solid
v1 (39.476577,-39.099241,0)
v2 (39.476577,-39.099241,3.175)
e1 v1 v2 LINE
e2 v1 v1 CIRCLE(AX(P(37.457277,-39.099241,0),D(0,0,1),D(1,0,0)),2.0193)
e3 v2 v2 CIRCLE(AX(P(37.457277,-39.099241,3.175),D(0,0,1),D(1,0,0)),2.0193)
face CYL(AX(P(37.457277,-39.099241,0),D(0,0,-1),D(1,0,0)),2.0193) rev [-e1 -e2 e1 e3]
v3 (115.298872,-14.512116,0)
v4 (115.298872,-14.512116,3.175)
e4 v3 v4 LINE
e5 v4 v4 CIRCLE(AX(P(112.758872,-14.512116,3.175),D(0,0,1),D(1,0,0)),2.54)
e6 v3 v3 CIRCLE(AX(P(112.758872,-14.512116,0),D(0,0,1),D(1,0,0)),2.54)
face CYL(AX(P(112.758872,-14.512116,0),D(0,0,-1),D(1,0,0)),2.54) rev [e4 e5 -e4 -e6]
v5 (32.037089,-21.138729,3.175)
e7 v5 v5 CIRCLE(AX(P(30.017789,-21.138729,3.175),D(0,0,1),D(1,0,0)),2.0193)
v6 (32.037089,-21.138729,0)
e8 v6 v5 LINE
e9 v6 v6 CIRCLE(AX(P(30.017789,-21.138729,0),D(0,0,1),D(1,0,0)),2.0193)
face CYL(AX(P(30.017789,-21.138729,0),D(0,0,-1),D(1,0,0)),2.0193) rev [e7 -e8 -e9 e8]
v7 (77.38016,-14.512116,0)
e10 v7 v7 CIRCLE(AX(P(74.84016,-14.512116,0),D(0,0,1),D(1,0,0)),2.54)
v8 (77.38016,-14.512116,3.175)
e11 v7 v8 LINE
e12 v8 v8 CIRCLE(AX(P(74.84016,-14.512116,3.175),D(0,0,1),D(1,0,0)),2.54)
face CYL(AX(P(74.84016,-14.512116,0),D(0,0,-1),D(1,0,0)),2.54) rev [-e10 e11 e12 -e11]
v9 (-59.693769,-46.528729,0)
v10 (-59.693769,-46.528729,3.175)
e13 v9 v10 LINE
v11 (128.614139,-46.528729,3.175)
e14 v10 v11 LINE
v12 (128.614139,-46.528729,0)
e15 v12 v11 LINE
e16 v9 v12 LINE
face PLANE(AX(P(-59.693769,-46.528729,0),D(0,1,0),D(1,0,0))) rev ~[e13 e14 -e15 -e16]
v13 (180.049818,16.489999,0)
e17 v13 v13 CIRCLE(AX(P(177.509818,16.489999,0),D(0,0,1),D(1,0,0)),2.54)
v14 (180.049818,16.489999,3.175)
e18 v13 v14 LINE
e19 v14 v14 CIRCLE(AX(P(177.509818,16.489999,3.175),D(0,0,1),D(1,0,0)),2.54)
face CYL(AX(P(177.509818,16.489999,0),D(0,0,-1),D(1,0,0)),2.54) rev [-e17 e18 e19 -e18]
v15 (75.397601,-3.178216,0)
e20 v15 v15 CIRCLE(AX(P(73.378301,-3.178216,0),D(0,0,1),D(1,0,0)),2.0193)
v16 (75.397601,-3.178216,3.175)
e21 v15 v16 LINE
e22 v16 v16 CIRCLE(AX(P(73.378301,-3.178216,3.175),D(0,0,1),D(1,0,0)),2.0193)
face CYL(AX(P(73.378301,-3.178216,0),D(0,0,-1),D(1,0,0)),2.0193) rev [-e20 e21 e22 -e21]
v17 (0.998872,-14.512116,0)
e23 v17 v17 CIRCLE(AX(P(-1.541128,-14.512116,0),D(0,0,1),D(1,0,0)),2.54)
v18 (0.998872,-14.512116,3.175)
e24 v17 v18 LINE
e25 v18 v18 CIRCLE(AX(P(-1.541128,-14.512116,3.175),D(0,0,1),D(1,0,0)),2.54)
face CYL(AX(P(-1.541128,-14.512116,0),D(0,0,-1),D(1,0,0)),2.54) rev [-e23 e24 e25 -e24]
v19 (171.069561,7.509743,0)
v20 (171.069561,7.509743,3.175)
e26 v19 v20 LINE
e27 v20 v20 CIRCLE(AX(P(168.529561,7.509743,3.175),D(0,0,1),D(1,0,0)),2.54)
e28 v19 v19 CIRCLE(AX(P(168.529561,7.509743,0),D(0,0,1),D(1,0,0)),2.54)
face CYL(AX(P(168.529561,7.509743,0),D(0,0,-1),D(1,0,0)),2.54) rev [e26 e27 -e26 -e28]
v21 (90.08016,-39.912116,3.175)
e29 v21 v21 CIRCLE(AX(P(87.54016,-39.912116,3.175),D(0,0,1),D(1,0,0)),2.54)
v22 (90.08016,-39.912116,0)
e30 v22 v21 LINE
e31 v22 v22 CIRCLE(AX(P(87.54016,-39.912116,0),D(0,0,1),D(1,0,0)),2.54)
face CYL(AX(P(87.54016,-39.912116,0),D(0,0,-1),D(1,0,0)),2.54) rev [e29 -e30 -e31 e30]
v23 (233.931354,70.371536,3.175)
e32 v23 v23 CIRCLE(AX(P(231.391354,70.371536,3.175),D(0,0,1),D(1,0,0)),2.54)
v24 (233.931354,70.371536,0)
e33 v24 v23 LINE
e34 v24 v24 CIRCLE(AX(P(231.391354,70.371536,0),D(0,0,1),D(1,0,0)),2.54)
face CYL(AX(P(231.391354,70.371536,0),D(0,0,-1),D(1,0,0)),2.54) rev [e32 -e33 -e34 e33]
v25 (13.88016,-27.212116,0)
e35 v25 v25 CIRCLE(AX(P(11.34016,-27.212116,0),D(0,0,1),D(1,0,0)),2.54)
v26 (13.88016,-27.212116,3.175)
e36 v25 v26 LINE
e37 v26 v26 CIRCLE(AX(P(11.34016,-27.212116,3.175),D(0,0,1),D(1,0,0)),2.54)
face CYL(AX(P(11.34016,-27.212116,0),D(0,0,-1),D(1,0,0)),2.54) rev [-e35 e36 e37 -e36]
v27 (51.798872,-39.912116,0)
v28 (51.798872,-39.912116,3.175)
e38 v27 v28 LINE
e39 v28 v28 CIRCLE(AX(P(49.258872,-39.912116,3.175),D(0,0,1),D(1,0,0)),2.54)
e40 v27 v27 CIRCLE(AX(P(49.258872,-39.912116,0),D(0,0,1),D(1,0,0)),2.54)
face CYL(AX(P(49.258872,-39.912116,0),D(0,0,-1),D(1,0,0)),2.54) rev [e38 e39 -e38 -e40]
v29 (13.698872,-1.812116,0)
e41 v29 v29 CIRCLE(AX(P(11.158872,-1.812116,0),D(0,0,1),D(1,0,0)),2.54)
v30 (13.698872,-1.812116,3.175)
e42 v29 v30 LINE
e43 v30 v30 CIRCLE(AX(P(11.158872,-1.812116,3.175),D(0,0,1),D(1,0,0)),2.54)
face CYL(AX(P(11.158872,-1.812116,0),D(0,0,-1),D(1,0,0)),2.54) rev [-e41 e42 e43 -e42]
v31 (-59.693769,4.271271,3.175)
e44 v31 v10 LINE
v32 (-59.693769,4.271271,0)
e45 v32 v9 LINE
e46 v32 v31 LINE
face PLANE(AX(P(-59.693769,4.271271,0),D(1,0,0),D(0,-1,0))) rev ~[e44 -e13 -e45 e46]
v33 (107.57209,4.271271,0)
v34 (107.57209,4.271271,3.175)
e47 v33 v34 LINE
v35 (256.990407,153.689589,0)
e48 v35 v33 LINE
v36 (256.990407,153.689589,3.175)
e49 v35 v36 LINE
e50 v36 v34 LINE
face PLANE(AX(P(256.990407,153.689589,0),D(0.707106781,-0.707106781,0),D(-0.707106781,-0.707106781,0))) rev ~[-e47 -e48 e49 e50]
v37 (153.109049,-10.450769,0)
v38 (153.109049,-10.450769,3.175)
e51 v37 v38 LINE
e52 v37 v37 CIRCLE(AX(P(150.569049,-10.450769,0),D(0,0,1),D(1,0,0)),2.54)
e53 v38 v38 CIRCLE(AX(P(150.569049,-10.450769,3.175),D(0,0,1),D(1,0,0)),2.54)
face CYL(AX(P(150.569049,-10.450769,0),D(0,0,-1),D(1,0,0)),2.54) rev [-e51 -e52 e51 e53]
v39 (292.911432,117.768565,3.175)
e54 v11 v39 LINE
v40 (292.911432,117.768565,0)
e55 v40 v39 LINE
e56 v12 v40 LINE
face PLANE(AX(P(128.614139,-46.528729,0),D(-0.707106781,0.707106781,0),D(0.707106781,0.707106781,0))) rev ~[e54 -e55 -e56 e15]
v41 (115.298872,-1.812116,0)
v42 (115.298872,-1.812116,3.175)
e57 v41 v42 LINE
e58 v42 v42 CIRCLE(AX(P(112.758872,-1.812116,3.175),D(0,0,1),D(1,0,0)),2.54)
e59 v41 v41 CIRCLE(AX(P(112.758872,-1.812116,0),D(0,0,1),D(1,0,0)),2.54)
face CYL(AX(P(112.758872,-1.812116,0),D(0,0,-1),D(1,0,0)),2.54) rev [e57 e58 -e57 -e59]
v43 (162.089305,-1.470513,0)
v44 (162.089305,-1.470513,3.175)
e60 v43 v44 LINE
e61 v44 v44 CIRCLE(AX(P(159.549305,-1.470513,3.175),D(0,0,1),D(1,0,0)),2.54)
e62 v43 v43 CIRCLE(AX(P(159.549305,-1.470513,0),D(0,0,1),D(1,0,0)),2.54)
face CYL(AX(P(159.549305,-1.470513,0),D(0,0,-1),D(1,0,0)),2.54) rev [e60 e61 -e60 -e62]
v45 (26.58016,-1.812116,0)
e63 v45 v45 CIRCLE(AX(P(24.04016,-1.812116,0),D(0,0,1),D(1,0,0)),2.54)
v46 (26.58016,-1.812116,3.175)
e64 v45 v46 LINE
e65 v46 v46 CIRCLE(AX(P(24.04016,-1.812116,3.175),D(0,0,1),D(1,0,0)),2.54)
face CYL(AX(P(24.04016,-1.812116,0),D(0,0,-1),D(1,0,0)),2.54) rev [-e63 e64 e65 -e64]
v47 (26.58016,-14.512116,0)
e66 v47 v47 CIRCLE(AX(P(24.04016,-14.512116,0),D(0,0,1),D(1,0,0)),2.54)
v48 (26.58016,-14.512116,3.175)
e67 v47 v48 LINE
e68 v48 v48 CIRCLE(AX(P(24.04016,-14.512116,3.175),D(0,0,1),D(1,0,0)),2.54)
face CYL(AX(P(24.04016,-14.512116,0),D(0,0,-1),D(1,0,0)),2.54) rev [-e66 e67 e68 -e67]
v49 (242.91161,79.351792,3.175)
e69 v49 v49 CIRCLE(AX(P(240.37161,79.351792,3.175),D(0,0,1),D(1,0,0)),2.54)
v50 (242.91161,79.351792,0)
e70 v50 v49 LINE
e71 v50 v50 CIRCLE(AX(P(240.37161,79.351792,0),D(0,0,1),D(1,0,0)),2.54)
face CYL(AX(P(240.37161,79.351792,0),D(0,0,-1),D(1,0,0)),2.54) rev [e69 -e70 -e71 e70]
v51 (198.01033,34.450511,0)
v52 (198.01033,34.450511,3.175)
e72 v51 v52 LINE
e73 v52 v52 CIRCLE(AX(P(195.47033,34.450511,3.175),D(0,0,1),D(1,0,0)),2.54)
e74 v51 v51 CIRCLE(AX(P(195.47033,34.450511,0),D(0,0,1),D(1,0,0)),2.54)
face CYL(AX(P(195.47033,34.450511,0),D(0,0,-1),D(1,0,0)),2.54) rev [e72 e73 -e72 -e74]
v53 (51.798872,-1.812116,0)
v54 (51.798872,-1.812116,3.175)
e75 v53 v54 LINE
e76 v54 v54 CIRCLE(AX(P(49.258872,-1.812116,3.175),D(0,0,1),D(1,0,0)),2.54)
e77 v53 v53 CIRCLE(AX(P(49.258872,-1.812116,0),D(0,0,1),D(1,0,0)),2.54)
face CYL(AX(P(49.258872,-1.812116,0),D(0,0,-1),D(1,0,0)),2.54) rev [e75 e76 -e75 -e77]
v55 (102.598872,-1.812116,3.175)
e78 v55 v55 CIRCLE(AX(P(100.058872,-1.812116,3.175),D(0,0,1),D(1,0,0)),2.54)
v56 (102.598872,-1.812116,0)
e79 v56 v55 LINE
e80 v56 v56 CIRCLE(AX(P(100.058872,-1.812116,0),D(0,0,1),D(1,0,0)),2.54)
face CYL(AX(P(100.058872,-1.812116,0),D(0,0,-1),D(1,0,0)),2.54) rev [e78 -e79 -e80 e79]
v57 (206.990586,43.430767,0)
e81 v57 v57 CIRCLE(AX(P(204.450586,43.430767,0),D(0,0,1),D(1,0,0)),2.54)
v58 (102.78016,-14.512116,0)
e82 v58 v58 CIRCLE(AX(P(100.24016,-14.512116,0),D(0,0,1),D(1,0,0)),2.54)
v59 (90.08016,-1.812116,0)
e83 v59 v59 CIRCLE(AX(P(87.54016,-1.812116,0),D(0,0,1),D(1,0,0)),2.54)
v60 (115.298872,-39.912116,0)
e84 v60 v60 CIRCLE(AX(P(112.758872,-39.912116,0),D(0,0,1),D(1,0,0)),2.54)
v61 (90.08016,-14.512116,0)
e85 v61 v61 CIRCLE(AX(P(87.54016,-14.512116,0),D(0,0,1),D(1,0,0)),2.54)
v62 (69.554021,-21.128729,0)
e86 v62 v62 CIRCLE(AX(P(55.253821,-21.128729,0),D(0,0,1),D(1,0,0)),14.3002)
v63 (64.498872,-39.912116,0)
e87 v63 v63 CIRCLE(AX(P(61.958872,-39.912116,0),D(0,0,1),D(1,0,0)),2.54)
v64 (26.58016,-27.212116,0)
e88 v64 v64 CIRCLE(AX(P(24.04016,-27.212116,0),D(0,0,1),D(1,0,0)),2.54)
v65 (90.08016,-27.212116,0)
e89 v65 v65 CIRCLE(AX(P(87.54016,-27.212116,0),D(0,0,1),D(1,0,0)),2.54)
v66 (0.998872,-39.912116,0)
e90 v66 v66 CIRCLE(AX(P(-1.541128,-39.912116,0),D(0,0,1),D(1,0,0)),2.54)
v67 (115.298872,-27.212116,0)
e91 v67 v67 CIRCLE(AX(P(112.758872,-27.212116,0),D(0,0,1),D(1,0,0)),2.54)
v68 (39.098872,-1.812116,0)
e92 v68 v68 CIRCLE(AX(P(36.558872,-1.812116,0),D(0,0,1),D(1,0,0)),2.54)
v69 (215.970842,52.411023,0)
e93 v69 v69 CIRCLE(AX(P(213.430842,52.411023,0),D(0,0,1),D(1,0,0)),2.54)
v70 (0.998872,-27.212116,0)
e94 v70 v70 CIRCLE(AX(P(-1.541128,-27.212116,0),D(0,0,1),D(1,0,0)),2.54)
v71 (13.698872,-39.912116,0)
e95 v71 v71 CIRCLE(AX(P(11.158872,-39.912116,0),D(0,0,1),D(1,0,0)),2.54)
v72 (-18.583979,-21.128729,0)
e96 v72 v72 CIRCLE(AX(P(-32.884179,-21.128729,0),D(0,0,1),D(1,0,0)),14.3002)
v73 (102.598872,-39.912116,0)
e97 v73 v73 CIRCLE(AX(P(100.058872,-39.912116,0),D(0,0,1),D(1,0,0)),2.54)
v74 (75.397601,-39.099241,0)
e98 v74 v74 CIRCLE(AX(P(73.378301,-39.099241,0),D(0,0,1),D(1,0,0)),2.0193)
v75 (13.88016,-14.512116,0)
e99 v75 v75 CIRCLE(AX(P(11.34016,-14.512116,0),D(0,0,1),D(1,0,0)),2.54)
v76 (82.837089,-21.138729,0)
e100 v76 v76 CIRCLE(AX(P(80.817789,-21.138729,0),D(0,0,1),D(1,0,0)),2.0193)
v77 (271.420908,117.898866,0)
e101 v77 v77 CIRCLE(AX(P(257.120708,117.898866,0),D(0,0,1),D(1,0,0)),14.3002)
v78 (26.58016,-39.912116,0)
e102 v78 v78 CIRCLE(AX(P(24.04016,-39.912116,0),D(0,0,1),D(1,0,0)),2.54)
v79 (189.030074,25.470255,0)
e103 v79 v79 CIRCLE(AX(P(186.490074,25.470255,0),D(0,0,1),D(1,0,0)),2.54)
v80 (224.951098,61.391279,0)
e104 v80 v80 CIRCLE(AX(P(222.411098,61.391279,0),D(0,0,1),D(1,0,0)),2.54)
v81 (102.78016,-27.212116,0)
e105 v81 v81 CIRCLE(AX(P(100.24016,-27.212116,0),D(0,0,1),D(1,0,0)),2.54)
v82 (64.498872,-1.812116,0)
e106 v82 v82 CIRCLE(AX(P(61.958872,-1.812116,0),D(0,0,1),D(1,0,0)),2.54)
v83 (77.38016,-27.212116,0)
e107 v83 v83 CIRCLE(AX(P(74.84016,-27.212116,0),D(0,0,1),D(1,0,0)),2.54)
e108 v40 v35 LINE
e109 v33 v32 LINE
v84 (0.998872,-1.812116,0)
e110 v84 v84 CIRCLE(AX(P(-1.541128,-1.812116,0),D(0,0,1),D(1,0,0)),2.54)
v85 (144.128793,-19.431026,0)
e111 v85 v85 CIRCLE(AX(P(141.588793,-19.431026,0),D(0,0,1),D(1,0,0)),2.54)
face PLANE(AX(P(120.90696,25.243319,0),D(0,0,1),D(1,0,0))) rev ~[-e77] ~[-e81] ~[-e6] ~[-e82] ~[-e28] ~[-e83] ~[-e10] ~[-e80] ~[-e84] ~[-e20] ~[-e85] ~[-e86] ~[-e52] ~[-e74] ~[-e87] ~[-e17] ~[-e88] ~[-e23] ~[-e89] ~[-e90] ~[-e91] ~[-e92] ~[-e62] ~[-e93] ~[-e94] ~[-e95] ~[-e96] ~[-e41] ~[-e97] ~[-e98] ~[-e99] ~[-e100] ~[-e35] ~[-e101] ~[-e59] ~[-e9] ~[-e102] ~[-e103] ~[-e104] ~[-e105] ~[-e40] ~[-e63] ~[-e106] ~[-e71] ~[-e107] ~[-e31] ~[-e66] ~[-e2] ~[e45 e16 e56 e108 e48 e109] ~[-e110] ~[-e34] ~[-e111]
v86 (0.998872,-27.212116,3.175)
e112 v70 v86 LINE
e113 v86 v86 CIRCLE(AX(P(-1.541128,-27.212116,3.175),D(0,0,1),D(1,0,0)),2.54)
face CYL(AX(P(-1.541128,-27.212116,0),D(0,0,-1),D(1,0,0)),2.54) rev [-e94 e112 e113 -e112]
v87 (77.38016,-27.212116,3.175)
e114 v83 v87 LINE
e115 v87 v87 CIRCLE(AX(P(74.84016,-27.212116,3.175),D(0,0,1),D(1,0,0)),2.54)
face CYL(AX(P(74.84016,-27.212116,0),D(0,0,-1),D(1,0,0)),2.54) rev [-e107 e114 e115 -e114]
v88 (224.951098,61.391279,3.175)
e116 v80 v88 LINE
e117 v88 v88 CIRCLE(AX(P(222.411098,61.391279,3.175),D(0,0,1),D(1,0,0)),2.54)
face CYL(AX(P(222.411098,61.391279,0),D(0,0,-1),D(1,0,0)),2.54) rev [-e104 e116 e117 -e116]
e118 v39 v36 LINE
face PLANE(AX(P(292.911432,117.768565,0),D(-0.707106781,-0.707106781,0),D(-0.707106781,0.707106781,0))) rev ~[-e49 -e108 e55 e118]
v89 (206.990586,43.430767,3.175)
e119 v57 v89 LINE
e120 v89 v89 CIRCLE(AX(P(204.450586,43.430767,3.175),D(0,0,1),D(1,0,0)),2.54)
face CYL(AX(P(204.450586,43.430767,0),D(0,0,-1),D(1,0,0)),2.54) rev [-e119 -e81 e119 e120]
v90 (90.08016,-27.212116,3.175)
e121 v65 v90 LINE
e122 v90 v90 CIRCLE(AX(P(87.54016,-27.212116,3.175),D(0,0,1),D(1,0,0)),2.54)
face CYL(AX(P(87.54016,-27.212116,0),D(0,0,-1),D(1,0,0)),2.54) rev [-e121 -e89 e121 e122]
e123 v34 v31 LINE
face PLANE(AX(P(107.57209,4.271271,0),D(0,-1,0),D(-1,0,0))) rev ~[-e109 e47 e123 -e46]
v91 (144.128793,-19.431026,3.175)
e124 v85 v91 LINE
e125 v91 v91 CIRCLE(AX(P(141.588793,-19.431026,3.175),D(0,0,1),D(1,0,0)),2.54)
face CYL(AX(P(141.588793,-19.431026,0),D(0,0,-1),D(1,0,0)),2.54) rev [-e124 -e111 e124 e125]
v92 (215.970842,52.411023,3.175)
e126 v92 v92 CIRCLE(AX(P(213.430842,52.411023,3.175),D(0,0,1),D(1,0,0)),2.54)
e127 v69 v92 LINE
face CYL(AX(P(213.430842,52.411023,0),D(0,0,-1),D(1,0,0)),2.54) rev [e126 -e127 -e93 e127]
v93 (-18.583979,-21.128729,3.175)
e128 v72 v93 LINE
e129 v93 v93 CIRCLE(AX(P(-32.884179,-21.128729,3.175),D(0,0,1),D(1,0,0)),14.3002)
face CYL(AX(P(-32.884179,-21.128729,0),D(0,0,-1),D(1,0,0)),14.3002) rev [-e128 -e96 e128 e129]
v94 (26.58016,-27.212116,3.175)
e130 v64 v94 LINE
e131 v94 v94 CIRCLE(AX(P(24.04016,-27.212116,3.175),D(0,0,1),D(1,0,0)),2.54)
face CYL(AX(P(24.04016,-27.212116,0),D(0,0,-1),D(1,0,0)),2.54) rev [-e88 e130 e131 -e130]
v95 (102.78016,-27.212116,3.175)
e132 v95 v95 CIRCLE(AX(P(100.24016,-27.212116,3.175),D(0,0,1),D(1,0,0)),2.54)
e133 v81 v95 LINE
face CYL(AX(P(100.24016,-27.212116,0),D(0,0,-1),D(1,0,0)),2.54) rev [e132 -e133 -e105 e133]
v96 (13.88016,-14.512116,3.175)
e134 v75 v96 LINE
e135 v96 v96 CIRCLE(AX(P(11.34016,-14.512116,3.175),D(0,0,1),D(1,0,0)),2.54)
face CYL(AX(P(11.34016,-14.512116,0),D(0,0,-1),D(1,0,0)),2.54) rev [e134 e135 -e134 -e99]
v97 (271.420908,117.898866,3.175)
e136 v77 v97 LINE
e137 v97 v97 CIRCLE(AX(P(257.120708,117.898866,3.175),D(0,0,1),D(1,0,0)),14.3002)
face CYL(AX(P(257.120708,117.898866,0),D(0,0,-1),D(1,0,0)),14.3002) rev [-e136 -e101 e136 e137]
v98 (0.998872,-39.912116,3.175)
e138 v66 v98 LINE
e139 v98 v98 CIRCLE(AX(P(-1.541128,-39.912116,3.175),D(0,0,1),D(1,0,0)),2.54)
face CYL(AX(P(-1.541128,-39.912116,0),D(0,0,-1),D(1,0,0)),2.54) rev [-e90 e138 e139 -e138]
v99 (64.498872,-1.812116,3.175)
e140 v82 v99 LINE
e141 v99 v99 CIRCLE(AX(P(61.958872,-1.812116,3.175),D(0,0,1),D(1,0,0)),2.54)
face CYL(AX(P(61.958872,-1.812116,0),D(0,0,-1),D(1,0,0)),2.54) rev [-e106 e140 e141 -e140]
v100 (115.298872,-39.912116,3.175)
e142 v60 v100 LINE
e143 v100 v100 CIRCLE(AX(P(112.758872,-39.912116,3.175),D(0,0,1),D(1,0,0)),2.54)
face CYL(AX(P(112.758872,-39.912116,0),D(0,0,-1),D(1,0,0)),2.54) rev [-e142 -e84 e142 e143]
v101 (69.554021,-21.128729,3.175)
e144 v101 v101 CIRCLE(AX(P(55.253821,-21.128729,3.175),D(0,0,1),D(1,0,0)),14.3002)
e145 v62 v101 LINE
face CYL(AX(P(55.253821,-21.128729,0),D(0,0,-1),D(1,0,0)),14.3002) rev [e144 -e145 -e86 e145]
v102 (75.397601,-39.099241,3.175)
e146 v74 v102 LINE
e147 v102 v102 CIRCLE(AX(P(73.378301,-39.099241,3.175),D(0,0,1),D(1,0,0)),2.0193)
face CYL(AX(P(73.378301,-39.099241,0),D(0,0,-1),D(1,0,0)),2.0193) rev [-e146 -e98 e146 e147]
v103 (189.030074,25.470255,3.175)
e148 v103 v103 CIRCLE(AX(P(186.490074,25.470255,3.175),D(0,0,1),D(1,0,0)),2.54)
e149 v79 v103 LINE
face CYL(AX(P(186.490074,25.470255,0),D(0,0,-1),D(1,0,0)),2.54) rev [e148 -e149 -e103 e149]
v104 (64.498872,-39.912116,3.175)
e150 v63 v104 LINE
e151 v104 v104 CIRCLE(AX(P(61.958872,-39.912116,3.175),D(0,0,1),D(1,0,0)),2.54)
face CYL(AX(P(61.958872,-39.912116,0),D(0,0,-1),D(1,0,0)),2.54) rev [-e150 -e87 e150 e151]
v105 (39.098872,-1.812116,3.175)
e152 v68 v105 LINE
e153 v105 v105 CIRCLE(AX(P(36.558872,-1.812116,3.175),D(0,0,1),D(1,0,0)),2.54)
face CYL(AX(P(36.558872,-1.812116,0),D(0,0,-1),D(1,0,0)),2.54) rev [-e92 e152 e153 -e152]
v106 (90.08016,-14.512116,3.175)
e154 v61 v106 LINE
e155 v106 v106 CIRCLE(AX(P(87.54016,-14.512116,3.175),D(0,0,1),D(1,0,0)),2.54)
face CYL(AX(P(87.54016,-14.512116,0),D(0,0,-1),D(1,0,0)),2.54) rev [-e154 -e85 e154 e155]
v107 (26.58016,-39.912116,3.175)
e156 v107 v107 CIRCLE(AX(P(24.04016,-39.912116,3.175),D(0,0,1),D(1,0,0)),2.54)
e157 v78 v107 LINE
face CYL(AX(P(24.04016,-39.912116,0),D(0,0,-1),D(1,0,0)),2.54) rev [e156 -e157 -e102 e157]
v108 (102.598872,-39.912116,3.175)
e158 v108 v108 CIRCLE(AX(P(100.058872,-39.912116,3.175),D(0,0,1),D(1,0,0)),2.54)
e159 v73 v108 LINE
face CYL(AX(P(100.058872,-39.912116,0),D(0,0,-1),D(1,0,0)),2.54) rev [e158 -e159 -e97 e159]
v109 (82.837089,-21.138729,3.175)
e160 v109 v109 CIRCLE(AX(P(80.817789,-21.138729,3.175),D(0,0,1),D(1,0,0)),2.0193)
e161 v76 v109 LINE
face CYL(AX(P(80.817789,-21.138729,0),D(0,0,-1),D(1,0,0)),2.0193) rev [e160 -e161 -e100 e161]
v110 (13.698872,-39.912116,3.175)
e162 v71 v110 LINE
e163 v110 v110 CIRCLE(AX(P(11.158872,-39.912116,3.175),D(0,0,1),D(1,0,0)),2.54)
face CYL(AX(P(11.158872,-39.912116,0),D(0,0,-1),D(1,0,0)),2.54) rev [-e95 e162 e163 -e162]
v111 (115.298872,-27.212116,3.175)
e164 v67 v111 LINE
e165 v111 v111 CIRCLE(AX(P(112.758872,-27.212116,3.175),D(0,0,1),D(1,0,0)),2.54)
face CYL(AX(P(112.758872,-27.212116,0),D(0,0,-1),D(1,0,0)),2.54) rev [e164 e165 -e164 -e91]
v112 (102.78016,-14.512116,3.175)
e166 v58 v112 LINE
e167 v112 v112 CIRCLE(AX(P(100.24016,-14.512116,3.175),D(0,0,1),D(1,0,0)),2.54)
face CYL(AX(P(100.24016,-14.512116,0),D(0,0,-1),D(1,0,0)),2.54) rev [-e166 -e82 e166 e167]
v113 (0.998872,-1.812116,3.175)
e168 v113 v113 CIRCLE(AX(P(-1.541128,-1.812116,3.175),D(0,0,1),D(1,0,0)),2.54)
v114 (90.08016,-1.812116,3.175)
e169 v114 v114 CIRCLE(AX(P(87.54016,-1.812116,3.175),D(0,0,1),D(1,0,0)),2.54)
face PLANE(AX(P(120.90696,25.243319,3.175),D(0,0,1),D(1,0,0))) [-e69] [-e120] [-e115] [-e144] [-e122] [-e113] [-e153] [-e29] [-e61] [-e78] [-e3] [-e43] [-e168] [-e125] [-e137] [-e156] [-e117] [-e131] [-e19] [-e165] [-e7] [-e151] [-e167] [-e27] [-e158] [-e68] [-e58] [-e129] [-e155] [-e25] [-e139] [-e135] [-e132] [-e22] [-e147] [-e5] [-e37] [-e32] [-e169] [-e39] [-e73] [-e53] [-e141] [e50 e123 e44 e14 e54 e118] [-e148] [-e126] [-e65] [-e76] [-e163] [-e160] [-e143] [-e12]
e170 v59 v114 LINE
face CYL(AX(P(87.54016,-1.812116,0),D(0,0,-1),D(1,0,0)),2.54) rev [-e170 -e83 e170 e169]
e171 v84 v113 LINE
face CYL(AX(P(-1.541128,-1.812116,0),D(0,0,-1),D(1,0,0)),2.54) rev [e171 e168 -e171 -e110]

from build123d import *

# Parameters (mm, degrees)
SKETCH1_R           = 2.54
SKETCH1_R_2         = 2.0193
SKETCH1_R_3         = 14.3002
BOSS_EXTRUDE1_DEPTH = 3.175


with BuildPart() as part:
    # Sketch1 → Boss-Extrude1 (new body)
    with BuildSketch(Plane.XY):
        Polygon((-59.693768546, 4.271271353), (-59.693768546, -46.528728647), (128.614138554, -46.528728647), (292.911431822, 117.768564621), (256.990407338, 153.689589105), (107.572089586, 4.271271353), align=None)
        with Locations((24.040159799, -14.512116048)):
            Circle(SKETCH1_R, mode=Mode.SUBTRACT)
        with Locations((74.840159799, -14.512116048)):
            Circle(SKETCH1_R, mode=Mode.SUBTRACT)
        with Locations((87.540159799, -14.512116048)):
            Circle(SKETCH1_R, mode=Mode.SUBTRACT)
        with Locations((100.240159799, -14.512116048)):
            Circle(SKETCH1_R, mode=Mode.SUBTRACT)
        with Locations((100.240159799, -27.212116048)):
            Circle(SKETCH1_R, mode=Mode.SUBTRACT)
        with Locations((87.540159799, -27.212116048)):
            Circle(SKETCH1_R, mode=Mode.SUBTRACT)
        with Locations((74.840159799, -27.212116048)):
            Circle(SKETCH1_R, mode=Mode.SUBTRACT)
        with Locations((24.040159799, -27.212116048)):
            Circle(SKETCH1_R, mode=Mode.SUBTRACT)
        with Locations((11.340159799, -27.212116048)):
            Circle(SKETCH1_R, mode=Mode.SUBTRACT)
        with Locations((11.340159799, -14.512116048)):
            Circle(SKETCH1_R, mode=Mode.SUBTRACT)
        with Locations((11.158871814, -1.812116048)):
            Circle(SKETCH1_R, mode=Mode.SUBTRACT)
        with Locations((24.040159799, -1.812116048)):
            Circle(SKETCH1_R, mode=Mode.SUBTRACT)
        with Locations((36.558871814, -1.812116048)):
            Circle(SKETCH1_R, mode=Mode.SUBTRACT)
        with Locations((49.258871814, -1.812116048)):
            Circle(SKETCH1_R, mode=Mode.SUBTRACT)
        with Locations((61.958871814, -1.812116048)):
            Circle(SKETCH1_R, mode=Mode.SUBTRACT)
        with Locations((87.540159799, -1.812116048)):
            Circle(SKETCH1_R, mode=Mode.SUBTRACT)
        with Locations((100.058871814, -1.812116048)):
            Circle(SKETCH1_R, mode=Mode.SUBTRACT)
        with Locations((112.758871814, -1.812116048)):
            Circle(SKETCH1_R, mode=Mode.SUBTRACT)
        with Locations((112.758871814, -14.512116048)):
            Circle(SKETCH1_R, mode=Mode.SUBTRACT)
        with Locations((112.758871814, -27.212116048)):
            Circle(SKETCH1_R, mode=Mode.SUBTRACT)
        with Locations((112.758871814, -39.912116048)):
            Circle(SKETCH1_R, mode=Mode.SUBTRACT)
        with Locations((100.058871814, -39.912116048)):
            Circle(SKETCH1_R, mode=Mode.SUBTRACT)
        with Locations((87.540159799, -39.912116048)):
            Circle(SKETCH1_R, mode=Mode.SUBTRACT)
        with Locations((61.958871814, -39.912116048)):
            Circle(SKETCH1_R, mode=Mode.SUBTRACT)
        with Locations((49.258871814, -39.912116048)):
            Circle(SKETCH1_R, mode=Mode.SUBTRACT)
        with Locations((24.040159799, -39.912116048)):
            Circle(SKETCH1_R, mode=Mode.SUBTRACT)
        with Locations((11.158871814, -39.912116048)):
            Circle(SKETCH1_R, mode=Mode.SUBTRACT)
        with Locations((-1.541128186, -39.912116048)):
            Circle(SKETCH1_R, mode=Mode.SUBTRACT)
        with Locations((-1.541128186, -27.212116048)):
            Circle(SKETCH1_R, mode=Mode.SUBTRACT)
        with Locations((-1.541128186, -14.512116048)):
            Circle(SKETCH1_R, mode=Mode.SUBTRACT)
        with Locations((-1.541128186, -1.812116048)):
            Circle(SKETCH1_R, mode=Mode.SUBTRACT)
        with Locations((73.378301019, -3.178216405)):
            Circle(SKETCH1_R_2, mode=Mode.SUBTRACT)
        with Locations((80.817788776, -21.138728647)):
            Circle(SKETCH1_R_2, mode=Mode.SUBTRACT)
        with Locations((73.378301019, -39.099240889)):
            Circle(SKETCH1_R_2, mode=Mode.SUBTRACT)
        with Locations((37.457276534, -39.099240889)):
            Circle(SKETCH1_R_2, mode=Mode.SUBTRACT)
        with Locations((30.017788776, -21.138728647)):
            Circle(SKETCH1_R_2, mode=Mode.SUBTRACT)
        with Locations((55.2538213, -21.128728647)):
            Circle(SKETCH1_R_3, mode=Mode.SUBTRACT)
        with Locations((-32.8841787, -21.128728647)):
            Circle(SKETCH1_R_3, mode=Mode.SUBTRACT)
        with Locations((257.120708411, 117.898865694)):
            Circle(SKETCH1_R_3, mode=Mode.SUBTRACT)
        with Locations((141.58879302, -19.431025607)):
            Circle(SKETCH1_R, mode=Mode.SUBTRACT)
        with Locations((150.569049141, -10.450769486)):
            Circle(SKETCH1_R, mode=Mode.SUBTRACT)
        with Locations((159.549305262, -1.470513365)):
            Circle(SKETCH1_R, mode=Mode.SUBTRACT)
        with Locations((168.529561384, 7.509742756)):
            Circle(SKETCH1_R, mode=Mode.SUBTRACT)
        with Locations((177.509817505, 16.489998877)):
            Circle(SKETCH1_R, mode=Mode.SUBTRACT)
        with Locations((186.490073626, 25.470254998)):
            Circle(SKETCH1_R, mode=Mode.SUBTRACT)
        with Locations((195.470329747, 34.45051112)):
            Circle(SKETCH1_R, mode=Mode.SUBTRACT)
        with Locations((204.450585868, 43.430767241)):
            Circle(SKETCH1_R, mode=Mode.SUBTRACT)
        with Locations((213.430841989, 52.411023362)):
            Circle(SKETCH1_R, mode=Mode.SUBTRACT)
        with Locations((222.41109811, 61.391279483)):
            Circle(SKETCH1_R, mode=Mode.SUBTRACT)
        with Locations((231.391354231, 70.371535604)):
            Circle(SKETCH1_R, mode=Mode.SUBTRACT)
        with Locations((240.371610352, 79.351791725)):
            Circle(SKETCH1_R, mode=Mode.SUBTRACT)
    extrude(amount=BOSS_EXTRUDE1_DEPTH)


solid = part.part
